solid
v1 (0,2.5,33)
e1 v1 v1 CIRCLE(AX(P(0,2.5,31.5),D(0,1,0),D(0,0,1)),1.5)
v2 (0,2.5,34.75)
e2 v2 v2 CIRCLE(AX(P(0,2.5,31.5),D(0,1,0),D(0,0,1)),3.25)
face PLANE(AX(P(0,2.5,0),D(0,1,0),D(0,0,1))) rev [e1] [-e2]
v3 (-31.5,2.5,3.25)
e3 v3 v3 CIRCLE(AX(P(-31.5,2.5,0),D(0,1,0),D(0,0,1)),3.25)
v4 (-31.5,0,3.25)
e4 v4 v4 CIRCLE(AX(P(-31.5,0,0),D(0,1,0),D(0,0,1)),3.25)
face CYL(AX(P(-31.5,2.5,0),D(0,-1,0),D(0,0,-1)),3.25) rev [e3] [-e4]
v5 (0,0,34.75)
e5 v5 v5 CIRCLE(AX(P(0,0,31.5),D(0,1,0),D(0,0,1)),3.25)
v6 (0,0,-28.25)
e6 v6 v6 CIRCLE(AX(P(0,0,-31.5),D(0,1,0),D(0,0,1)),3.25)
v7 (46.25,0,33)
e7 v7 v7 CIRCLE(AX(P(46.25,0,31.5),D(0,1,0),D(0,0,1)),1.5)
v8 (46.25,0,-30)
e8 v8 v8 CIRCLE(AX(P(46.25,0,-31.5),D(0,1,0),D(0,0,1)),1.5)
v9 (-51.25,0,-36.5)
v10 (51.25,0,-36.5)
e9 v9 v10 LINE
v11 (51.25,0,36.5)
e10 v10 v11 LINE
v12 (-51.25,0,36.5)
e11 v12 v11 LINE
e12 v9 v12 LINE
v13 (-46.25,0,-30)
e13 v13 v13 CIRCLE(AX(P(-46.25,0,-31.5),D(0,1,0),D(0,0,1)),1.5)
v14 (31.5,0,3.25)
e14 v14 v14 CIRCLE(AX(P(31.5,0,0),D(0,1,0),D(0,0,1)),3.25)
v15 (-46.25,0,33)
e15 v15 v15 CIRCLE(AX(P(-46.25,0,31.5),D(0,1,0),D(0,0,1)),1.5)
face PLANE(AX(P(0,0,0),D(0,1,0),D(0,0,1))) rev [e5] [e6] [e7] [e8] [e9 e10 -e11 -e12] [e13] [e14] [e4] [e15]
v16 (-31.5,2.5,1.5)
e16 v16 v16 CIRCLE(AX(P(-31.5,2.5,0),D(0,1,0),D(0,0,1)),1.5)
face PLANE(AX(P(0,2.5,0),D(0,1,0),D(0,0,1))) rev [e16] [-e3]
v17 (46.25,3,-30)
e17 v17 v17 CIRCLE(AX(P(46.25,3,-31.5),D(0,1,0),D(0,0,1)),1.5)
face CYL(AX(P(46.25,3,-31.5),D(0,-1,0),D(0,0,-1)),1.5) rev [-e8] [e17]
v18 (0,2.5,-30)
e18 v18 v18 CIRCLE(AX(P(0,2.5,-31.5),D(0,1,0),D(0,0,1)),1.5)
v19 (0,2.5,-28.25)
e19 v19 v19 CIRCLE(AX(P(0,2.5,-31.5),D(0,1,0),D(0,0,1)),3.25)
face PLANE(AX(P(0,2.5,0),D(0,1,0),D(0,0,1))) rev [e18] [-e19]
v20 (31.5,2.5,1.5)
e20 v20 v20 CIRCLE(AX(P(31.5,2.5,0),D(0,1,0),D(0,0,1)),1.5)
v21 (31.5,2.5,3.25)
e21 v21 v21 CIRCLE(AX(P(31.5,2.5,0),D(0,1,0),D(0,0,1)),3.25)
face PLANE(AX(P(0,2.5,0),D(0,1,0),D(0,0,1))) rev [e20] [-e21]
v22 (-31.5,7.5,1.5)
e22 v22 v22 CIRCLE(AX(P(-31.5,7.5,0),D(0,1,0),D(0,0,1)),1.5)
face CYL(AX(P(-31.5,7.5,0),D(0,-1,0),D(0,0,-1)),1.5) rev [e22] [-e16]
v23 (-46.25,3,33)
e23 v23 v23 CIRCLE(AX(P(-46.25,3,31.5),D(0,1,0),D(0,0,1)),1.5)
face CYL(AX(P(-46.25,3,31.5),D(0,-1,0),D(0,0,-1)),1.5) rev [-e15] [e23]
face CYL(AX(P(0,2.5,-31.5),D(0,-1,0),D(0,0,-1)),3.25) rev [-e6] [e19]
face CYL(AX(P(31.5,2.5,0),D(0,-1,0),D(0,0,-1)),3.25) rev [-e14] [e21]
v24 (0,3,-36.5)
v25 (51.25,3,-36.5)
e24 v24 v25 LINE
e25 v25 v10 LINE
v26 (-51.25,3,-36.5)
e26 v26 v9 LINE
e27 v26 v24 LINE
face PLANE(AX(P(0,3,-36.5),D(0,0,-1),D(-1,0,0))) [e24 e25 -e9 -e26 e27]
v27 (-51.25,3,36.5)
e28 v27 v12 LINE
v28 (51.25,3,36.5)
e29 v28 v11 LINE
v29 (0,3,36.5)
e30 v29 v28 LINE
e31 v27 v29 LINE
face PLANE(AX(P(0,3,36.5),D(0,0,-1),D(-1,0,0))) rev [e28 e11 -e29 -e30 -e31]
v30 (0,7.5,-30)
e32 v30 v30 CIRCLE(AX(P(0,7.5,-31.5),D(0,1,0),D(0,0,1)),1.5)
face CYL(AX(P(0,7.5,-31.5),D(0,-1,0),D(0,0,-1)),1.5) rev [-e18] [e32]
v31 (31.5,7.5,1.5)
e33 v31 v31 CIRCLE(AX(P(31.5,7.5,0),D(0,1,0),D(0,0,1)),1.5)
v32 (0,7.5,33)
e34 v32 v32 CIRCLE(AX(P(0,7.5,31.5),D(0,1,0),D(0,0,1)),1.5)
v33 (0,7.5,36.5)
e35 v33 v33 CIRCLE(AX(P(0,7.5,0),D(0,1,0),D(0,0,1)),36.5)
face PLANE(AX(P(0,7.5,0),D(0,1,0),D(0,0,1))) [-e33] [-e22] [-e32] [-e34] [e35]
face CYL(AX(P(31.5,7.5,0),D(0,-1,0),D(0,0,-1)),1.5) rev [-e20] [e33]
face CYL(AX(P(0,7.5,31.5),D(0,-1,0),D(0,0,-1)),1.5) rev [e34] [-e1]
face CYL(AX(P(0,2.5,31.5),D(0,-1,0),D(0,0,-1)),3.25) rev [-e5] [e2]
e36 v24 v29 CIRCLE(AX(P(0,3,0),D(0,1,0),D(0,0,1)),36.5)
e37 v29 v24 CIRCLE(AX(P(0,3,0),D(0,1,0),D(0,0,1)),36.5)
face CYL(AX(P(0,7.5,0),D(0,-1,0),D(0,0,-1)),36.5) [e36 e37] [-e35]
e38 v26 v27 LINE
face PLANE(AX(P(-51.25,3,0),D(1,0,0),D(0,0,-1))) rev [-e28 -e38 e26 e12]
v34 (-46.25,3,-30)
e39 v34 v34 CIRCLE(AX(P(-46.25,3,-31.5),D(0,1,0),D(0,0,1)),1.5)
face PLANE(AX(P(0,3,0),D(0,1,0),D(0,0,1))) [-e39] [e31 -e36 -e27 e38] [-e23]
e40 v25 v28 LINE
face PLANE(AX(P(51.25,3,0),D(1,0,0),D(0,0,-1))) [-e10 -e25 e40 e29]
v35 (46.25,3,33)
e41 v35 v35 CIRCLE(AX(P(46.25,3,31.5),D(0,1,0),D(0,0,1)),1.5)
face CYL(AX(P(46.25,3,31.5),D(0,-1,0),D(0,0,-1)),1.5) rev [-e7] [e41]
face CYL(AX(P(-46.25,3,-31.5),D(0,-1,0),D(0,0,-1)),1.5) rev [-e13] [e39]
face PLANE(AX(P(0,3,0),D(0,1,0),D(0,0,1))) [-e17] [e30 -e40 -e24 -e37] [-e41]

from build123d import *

# Parameters (mm, degrees)
SKETCH1_R             = 1.5
BOSS_EXTRUDE3_DEPTH   = 3
BOSS_EXTRUDE3_2_DEPTH = 3
SKETCH1_7_R           = 36.5
SKETCH1_7_R_2         = 1.5
BOSS_EXTRUDE4_DEPTH   = 7.5
SKETCH1_9_R           = 3.25
SKETCH1_9_R_2         = 1.5
CUT_EXTRUDE2_DEPTH    = 2.5


with BuildPart() as part:
    # Sketch1 → Boss-Extrude3 (new body)
    with BuildSketch(Plane(origin=(0, 0, 0), x_dir=(1, 0, 0), z_dir=(0, 1, 0))):
        with BuildLine():
            Line((0, 36.5), (-51.25, 36.5))
            Line((-51.25, 36.5), (-51.25, -36.5))
            Line((-51.25, -36.5), (0, -36.5))
            ThreePointArc((0, -36.5), (-36.5, 0), (0, 36.5))
        make_face()
        with Locations((-46.25, 31.5)):
            Circle(SKETCH1_R, mode=Mode.SUBTRACT)
        with Locations((-46.25, -31.5)):
            Circle(SKETCH1_R, mode=Mode.SUBTRACT)
    extrude(amount=BOSS_EXTRUDE3_DEPTH)



with BuildPart() as body_2:
    # Sketch1 → Boss-Extrude3 2 (new body)
    with BuildSketch(Plane(origin=(0, 0, 0), x_dir=(1, 0, 0), z_dir=(0, 1, 0))):
        with BuildLine():
            Line((51.25, 36.5), (0, 36.5))
            ThreePointArc((0, 36.5), (36.5, 0), (0, -36.5))
            Line((0, -36.5), (51.25, -36.5))
            Line((51.25, -36.5), (51.25, 36.5))
        make_face()
        with Locations((46.25, -31.5)):
            Circle(SKETCH1_R, mode=Mode.SUBTRACT)
        with Locations((46.25, 31.5)):
            Circle(SKETCH1_R, mode=Mode.SUBTRACT)
    extrude(amount=BOSS_EXTRUDE3_2_DEPTH)


with BuildPart() as part_1:
    add(part.part)

    add(body_2.part)  # Boss-Extrude4 merges body 2
    # Sketch1<7> → Boss-Extrude4 (add)
    with BuildSketch(Plane(origin=(0, 0, 0), x_dir=(1, 0, 0), z_dir=(0, 1, 0))):
        Circle(SKETCH1_7_R)
        with Locations((0, 31.5)):
            Circle(SKETCH1_7_R_2, mode=Mode.SUBTRACT)
        with Locations((31.5, 0)):
            Circle(SKETCH1_7_R_2, mode=Mode.SUBTRACT)
        with Locations((-31.5, 0)):
            Circle(SKETCH1_7_R_2, mode=Mode.SUBTRACT)
        with Locations((0, -31.5)):
            Circle(SKETCH1_7_R_2, mode=Mode.SUBTRACT)
    extrude(amount=BOSS_EXTRUDE4_DEPTH)

    # Sketch1<9> → Cut-Extrude2 (cut)
    # profile 1 of 4: a face of its own
    with BuildSketch(Plane(origin=(0, 0, 0), x_dir=(1, 0, 0), z_dir=(0, 1, 0))):
        with Locations((0, 31.5)):
            Circle(SKETCH1_9_R)
        with Locations((0, 31.5)):
            Circle(SKETCH1_9_R_2, mode=Mode.SUBTRACT)
    # profile 2 of 4: a face of its own
    with BuildSketch(Plane(origin=(0, 0, 0), x_dir=(1, 0, 0), z_dir=(0, 1, 0))):
        with Locations((0, -31.5)):
            Circle(SKETCH1_9_R)
        with Locations((0, -31.5)):
            Circle(SKETCH1_9_R_2, mode=Mode.SUBTRACT)
    # profile 3 of 4: a face of its own
    with BuildSketch(Plane(origin=(0, 0, 0), x_dir=(1, 0, 0), z_dir=(0, 1, 0))):
        with Locations((31.5, 0)):
            Circle(SKETCH1_9_R)
        with Locations((31.5, 0)):
            Circle(SKETCH1_9_R_2, mode=Mode.SUBTRACT)
    # profile 4 of 4: a face of its own
    with BuildSketch(Plane(origin=(0, 0, 0), x_dir=(1, 0, 0), z_dir=(0, 1, 0))):
        with Locations((-31.5, 0)):
            Circle(SKETCH1_9_R)
        with Locations((-31.5, 0)):
            Circle(SKETCH1_9_R_2, mode=Mode.SUBTRACT)
    extrude(amount=CUT_EXTRUDE2_DEPTH, mode=Mode.SUBTRACT)


solid = part_1.part
